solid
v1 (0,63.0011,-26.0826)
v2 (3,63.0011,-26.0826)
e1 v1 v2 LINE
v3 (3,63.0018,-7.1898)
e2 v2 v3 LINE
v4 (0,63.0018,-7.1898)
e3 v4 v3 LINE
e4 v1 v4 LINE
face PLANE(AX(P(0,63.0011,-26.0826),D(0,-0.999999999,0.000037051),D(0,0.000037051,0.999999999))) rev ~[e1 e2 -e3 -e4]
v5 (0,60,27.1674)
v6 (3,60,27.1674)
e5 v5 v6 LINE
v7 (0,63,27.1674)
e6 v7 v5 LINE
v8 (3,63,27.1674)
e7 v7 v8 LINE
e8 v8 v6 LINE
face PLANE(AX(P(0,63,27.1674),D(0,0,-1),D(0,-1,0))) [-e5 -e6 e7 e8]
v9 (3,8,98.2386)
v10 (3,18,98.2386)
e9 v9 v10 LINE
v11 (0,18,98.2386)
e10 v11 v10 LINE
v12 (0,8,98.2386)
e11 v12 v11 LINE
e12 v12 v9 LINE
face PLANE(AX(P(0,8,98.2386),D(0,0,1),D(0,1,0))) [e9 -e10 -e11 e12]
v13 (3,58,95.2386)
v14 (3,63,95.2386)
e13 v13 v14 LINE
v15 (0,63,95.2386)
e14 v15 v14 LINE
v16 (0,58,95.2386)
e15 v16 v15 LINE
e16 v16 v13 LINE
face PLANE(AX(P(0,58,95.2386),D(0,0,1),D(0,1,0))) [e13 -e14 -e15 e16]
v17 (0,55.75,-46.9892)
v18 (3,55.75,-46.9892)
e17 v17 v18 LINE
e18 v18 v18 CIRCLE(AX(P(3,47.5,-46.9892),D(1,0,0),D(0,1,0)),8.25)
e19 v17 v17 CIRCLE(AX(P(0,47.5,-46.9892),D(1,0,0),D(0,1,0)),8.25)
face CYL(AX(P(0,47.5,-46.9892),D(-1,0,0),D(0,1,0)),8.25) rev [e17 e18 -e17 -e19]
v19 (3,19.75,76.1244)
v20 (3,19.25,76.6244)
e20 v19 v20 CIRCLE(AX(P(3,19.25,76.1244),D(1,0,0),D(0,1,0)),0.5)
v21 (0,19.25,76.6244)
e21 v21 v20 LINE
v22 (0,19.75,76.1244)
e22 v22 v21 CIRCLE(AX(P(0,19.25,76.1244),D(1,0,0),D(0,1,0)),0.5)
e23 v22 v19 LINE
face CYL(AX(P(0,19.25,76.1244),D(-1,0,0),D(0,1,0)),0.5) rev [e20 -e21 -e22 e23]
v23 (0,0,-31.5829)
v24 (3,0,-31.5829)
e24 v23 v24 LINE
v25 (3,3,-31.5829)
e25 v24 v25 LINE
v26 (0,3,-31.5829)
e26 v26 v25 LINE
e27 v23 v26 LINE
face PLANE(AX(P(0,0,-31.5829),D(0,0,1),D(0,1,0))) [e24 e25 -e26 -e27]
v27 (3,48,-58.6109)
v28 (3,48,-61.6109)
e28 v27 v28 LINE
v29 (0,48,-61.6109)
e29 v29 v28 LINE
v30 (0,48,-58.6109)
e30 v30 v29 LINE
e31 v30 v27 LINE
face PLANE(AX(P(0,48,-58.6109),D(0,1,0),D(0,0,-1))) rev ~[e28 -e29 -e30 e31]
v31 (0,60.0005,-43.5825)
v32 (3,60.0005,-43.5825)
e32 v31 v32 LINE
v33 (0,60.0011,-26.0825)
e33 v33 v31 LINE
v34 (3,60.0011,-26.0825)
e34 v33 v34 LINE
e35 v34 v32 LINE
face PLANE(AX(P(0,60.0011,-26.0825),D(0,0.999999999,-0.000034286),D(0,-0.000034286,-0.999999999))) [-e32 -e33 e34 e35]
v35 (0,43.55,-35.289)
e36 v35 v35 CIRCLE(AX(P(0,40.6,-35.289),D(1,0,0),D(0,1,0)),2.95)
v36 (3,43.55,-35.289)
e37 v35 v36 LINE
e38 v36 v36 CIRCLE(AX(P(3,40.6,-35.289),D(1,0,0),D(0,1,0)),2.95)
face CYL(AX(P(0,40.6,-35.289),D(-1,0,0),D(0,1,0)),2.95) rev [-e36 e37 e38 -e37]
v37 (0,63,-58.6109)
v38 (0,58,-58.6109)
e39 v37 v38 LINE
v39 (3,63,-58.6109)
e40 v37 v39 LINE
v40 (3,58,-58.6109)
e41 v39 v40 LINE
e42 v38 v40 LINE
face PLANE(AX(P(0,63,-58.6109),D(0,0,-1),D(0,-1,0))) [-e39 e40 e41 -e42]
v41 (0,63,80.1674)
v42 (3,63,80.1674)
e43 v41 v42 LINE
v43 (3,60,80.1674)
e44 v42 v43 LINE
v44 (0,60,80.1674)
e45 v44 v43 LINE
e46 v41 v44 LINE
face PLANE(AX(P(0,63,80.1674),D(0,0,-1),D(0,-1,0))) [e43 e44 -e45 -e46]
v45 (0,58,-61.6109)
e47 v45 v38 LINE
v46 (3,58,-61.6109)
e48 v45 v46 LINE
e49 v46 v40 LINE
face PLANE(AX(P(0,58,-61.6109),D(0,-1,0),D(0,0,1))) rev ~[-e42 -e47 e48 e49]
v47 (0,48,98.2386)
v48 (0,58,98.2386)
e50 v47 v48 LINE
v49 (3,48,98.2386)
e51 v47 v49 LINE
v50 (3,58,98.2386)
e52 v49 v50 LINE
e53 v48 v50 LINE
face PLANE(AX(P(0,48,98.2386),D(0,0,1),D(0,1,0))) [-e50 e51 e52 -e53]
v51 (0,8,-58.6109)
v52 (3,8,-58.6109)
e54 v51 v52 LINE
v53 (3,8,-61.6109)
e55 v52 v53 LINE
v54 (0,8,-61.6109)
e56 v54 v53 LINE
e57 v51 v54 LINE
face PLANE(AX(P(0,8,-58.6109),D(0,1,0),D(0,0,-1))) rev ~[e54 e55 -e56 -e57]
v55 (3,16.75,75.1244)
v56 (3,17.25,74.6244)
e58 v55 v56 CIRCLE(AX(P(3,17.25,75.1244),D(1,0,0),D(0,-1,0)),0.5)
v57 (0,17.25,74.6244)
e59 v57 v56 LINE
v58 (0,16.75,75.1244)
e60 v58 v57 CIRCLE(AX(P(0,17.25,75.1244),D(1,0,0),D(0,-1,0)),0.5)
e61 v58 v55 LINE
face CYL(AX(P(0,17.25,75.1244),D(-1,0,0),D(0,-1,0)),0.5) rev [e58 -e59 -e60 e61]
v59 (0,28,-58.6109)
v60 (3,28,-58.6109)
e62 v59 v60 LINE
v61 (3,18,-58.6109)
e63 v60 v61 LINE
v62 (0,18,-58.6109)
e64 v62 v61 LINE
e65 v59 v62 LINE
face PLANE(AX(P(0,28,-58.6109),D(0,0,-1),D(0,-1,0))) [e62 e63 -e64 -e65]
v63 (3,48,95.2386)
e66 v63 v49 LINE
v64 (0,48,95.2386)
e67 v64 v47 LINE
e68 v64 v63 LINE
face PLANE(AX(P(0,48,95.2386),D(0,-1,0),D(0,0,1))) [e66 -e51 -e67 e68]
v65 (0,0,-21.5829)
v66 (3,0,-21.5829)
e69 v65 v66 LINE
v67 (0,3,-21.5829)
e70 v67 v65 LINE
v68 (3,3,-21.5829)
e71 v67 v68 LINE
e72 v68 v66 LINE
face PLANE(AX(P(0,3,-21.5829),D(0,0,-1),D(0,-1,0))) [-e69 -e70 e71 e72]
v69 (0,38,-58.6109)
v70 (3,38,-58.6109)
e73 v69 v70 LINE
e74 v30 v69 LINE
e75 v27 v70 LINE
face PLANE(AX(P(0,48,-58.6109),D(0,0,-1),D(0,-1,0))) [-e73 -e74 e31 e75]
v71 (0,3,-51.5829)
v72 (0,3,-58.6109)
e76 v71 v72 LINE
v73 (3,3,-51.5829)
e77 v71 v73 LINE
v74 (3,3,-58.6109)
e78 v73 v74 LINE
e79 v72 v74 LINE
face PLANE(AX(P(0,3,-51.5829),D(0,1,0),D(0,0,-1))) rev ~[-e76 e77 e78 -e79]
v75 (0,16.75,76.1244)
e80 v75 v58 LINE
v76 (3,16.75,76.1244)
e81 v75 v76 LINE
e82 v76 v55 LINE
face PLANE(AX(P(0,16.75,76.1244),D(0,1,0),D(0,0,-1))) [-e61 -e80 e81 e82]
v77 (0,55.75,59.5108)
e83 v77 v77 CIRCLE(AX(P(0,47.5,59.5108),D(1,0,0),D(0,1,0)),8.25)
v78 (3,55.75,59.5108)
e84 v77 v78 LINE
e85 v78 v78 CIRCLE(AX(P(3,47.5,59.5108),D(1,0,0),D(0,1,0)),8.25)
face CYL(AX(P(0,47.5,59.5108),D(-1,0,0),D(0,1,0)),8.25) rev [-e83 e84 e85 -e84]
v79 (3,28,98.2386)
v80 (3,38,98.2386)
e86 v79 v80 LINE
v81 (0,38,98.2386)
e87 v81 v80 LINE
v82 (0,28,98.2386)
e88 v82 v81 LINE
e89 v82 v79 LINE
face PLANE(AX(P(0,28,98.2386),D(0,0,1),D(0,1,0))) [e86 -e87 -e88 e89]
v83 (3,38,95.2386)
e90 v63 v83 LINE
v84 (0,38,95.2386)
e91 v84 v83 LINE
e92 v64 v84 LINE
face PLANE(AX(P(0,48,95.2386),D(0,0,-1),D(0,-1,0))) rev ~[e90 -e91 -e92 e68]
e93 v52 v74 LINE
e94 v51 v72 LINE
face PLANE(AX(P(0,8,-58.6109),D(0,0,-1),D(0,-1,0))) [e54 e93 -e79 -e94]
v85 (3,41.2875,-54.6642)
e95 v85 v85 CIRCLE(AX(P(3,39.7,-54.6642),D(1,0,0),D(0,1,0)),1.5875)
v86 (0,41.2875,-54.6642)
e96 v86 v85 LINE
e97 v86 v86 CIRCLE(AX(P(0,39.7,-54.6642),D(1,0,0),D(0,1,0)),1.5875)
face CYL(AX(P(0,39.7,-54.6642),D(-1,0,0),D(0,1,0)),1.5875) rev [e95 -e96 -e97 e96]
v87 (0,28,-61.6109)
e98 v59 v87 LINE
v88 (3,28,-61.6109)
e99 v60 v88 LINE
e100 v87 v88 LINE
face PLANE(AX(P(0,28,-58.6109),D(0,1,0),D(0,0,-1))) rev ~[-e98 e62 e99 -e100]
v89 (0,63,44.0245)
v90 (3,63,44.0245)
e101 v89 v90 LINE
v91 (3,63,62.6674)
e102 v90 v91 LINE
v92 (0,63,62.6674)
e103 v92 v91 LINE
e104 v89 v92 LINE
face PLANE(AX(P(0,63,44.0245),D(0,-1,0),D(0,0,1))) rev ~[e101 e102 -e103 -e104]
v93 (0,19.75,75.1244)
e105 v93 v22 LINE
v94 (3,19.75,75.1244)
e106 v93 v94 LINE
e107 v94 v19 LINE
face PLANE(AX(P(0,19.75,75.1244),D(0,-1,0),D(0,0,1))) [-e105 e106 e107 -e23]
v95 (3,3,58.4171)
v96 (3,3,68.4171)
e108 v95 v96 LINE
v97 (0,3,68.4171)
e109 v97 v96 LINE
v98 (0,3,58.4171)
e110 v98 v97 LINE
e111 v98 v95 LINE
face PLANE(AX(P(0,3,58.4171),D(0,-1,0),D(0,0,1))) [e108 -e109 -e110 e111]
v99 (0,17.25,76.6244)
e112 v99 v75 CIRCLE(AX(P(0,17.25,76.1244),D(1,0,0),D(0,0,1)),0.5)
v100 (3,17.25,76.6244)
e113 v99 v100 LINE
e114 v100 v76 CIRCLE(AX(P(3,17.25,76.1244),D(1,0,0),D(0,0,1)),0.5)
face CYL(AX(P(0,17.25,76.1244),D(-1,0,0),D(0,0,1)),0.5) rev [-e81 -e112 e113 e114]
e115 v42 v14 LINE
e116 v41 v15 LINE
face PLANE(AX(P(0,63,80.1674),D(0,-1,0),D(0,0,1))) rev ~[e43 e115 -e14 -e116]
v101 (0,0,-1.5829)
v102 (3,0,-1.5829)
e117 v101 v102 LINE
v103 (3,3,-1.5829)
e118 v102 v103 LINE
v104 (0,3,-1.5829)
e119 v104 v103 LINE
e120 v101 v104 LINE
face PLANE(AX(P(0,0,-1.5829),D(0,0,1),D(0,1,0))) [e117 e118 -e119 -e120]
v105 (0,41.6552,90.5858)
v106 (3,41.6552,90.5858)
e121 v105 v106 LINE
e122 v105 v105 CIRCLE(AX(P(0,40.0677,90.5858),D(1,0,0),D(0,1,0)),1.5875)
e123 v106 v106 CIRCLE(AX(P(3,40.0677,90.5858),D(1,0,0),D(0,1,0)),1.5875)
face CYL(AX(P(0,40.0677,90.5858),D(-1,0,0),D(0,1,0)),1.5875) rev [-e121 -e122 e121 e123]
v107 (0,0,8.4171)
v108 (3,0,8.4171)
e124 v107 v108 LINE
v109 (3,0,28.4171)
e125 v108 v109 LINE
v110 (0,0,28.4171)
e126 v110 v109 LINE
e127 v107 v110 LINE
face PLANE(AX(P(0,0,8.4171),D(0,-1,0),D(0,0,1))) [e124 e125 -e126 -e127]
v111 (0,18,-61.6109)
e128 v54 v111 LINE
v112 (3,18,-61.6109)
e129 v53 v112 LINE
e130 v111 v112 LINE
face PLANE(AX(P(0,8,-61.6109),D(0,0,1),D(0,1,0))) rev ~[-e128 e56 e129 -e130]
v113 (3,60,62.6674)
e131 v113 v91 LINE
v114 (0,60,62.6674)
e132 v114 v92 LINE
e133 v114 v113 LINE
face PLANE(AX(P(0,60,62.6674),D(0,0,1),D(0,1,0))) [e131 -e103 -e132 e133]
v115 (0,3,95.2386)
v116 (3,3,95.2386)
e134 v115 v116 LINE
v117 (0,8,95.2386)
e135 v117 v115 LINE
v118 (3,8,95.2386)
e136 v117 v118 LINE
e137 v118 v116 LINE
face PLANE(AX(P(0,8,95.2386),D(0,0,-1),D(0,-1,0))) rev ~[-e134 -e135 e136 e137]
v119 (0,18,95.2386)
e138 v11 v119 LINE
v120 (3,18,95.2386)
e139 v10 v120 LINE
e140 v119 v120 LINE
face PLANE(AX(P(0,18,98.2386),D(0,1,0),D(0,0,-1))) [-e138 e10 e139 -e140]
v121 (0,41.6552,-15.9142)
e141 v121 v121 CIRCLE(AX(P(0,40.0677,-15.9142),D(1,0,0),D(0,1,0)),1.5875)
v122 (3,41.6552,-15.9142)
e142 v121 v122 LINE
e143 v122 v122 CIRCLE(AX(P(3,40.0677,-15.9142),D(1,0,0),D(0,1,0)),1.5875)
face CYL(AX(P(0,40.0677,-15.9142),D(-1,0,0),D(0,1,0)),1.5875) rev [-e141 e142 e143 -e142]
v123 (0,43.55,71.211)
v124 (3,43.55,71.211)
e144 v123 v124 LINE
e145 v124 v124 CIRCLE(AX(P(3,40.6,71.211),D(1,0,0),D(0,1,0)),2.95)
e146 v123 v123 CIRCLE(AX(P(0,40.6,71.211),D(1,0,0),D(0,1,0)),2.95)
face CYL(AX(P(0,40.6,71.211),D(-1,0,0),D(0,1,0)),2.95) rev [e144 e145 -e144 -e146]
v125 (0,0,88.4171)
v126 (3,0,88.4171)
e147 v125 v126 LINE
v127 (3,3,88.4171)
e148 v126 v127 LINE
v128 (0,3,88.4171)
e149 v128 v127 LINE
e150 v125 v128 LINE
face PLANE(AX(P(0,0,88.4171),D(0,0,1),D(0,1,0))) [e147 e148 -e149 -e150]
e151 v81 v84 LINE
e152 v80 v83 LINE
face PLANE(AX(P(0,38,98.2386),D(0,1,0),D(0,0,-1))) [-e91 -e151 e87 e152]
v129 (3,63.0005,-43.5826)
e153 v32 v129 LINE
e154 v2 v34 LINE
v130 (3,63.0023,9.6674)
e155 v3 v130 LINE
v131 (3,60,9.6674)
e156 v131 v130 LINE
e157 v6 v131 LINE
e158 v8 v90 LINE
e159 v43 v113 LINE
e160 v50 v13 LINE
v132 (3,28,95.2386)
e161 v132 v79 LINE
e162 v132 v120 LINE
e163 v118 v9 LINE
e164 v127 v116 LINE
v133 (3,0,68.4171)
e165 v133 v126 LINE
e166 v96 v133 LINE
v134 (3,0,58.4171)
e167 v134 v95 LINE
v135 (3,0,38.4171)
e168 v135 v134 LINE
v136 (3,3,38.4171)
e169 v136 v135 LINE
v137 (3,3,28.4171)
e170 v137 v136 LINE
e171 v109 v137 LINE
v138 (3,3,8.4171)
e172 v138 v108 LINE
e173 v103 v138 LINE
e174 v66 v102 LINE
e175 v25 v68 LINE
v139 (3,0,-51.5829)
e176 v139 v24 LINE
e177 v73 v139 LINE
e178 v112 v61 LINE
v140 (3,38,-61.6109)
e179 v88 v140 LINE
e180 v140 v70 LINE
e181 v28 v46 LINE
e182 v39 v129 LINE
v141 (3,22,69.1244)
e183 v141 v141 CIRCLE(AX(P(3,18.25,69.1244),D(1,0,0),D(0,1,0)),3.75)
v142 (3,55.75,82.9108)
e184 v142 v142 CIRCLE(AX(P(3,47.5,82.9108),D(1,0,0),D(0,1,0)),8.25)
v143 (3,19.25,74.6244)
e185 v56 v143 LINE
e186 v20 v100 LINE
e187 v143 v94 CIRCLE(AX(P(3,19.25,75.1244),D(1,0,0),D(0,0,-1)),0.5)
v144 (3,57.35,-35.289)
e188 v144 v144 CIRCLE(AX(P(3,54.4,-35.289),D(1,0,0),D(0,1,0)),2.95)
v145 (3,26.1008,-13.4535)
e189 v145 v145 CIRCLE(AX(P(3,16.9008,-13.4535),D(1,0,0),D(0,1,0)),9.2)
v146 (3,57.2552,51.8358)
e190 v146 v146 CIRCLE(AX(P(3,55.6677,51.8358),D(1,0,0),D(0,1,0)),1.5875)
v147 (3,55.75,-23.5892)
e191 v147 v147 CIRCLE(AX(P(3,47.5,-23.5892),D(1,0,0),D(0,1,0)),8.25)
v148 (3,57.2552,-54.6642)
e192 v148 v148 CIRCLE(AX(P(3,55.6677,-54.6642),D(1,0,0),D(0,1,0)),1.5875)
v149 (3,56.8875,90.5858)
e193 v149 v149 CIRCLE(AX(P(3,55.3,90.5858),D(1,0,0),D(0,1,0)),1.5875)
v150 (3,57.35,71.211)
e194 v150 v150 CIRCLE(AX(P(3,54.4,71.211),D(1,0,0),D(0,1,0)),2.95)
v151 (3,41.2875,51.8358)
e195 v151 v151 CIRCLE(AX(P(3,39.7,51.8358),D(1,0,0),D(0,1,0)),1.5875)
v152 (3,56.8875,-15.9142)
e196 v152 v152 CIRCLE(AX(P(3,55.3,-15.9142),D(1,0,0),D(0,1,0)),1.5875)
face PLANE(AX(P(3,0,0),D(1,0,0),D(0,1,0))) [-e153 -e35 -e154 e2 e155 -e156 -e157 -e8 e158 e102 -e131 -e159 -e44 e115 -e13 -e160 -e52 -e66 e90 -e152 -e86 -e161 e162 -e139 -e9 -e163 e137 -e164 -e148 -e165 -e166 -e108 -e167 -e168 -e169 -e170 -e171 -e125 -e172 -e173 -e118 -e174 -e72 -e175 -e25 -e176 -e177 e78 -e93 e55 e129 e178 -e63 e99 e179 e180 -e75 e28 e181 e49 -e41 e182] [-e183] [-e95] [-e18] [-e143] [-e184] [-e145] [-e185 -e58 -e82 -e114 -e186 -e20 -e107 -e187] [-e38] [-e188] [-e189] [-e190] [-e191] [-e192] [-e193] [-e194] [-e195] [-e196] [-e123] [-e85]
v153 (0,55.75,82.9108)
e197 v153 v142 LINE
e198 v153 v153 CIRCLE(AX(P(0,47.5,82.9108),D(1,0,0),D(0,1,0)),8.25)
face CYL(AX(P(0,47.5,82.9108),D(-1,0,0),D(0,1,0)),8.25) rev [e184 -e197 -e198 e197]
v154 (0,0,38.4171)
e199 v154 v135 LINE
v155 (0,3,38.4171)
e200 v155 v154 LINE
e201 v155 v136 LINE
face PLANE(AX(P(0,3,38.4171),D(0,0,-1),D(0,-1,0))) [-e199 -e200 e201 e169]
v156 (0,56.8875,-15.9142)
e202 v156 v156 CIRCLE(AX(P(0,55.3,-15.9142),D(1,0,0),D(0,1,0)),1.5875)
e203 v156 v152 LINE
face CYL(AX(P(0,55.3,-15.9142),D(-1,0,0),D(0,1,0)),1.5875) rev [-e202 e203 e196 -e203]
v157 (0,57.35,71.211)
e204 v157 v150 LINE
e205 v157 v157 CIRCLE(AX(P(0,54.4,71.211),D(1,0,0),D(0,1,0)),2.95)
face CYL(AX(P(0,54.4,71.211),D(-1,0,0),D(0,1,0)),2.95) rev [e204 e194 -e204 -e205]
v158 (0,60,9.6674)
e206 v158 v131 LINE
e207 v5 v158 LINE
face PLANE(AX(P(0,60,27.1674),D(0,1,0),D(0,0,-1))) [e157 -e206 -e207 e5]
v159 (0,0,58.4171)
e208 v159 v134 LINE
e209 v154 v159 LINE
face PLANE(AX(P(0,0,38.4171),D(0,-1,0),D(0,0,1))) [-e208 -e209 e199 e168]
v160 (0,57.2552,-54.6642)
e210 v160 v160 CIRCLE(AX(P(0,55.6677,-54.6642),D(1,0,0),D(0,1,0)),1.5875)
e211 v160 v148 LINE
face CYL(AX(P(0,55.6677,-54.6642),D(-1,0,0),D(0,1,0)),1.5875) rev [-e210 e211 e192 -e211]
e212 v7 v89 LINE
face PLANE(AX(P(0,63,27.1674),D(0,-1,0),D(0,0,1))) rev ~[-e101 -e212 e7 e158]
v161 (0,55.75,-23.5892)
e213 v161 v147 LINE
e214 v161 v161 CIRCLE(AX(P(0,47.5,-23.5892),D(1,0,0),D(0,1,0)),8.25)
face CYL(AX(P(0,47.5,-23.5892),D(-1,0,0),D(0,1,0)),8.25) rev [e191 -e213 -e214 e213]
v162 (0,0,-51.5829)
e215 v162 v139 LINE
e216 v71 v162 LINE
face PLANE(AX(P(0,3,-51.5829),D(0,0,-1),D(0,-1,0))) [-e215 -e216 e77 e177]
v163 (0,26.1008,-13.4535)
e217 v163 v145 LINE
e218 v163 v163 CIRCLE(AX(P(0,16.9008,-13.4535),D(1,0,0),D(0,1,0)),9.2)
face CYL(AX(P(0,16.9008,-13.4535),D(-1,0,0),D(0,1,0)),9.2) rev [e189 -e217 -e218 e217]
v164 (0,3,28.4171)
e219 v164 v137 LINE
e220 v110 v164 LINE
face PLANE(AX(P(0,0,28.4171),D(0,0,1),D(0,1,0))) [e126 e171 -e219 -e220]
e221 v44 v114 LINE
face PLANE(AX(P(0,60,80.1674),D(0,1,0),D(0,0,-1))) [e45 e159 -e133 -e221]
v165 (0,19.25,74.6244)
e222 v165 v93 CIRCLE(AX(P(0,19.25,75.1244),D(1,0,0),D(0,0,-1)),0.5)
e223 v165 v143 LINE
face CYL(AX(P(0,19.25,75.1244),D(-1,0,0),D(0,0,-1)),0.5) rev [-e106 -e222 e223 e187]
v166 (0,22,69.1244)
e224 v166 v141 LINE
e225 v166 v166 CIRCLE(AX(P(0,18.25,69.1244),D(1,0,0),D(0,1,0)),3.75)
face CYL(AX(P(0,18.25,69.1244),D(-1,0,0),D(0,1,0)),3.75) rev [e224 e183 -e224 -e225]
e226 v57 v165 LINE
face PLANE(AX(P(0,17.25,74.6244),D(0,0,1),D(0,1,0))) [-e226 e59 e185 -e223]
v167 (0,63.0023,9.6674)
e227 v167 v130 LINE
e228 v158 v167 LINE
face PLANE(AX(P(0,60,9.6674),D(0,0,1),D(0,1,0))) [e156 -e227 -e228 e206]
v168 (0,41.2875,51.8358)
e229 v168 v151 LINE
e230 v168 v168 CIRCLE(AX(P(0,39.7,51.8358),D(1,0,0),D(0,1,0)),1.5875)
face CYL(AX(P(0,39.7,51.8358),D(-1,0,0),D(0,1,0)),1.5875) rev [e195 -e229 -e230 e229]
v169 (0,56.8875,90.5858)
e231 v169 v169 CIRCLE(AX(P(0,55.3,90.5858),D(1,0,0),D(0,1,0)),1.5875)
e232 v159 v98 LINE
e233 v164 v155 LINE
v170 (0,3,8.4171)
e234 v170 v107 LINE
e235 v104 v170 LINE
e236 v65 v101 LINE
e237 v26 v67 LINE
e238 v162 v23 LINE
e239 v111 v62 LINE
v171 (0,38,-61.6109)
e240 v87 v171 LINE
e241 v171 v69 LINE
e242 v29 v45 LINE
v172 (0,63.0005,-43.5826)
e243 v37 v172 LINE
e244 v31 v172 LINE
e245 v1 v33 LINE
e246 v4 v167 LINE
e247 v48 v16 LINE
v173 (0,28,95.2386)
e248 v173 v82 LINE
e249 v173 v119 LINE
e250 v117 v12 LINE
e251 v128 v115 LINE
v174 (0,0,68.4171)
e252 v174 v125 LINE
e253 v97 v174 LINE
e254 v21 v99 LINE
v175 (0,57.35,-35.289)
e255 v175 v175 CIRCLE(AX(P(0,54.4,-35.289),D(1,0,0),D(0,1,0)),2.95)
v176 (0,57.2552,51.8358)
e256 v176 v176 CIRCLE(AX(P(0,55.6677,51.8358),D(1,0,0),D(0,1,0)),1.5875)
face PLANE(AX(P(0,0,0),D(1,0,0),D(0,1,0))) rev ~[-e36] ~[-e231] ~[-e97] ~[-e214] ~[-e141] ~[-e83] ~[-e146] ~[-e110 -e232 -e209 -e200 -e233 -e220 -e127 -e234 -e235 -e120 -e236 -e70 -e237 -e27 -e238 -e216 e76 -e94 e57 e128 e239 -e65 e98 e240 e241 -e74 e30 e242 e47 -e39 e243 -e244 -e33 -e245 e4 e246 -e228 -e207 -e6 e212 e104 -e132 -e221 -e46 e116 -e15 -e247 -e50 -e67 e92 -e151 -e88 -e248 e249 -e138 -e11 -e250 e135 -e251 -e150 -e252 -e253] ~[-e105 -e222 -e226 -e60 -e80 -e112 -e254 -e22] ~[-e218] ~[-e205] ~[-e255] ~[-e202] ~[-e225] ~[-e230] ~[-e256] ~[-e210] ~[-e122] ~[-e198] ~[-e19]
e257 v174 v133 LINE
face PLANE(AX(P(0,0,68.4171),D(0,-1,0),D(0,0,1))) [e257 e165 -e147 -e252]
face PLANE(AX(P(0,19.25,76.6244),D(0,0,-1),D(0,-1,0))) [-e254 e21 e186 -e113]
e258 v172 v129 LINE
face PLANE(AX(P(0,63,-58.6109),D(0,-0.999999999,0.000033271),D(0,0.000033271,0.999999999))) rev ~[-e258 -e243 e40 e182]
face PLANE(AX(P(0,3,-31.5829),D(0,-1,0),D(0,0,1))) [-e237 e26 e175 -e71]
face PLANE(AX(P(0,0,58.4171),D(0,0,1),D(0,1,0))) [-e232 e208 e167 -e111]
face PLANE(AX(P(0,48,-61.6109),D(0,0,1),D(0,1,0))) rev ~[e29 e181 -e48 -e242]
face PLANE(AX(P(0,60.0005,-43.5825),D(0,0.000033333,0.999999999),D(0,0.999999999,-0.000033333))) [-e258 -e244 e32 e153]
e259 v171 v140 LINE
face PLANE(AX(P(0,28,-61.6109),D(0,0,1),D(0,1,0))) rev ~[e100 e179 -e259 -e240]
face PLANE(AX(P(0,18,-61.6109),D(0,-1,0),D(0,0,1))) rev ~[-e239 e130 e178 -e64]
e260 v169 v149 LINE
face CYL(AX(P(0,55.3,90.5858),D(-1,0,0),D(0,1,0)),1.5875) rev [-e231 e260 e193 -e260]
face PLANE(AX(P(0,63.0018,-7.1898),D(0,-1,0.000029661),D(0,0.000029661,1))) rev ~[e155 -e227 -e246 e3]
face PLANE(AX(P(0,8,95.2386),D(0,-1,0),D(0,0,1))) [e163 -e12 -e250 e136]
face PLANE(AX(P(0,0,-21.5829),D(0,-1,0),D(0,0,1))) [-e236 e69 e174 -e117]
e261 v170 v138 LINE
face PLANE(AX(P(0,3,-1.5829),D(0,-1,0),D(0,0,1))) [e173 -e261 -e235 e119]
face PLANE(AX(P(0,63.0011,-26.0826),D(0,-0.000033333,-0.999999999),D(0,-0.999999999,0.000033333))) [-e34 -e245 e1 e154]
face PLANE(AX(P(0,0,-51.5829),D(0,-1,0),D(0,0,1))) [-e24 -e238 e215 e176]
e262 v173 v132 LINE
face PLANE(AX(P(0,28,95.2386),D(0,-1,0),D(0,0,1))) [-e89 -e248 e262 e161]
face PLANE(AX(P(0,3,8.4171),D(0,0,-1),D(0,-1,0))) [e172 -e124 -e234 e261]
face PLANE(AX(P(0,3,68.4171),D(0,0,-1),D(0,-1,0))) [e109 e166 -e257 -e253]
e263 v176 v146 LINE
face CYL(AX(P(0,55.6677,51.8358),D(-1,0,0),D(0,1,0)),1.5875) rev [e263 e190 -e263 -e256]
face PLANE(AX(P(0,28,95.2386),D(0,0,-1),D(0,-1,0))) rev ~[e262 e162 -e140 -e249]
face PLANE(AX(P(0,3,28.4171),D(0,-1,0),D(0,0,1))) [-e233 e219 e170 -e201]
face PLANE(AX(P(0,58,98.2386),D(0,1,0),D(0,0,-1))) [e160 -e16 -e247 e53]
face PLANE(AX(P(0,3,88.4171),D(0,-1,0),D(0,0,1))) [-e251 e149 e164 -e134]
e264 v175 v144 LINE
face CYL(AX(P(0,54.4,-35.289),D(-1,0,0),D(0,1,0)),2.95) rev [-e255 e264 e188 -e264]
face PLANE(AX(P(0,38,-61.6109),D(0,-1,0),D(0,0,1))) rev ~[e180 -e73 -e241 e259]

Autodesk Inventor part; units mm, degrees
ref_plane "YZ Plane" through (0, 0, 0) normal (1, 0, 0) x (0, 1, 0)
ref_plane "XZ Plane" through (0, 0, 0) normal (0, 1, 0) x (-1, 0, 0)
ref_plane "XY Plane" through (0, 0, 0) normal (0, 0, 1) x (1, 0, 0)
sketch "Sketch1" plane through (0, 0, 0) normal (1, 0, 0) x (0, 1, 0)
  line L0 (63, -58.6109) -> (63.0005, -43.5826)
  line L1 (60.0005, -43.5825) -> (63.0005, -43.5826)
  line L2 (60.0011, -26.0825) -> (60.0005, -43.5825)
  line L3 (63.0011, -26.0826) -> (60.0011, -26.0825)
  line L4 (63.0011, -26.0826) -> (63.0018, -7.1898)
  line L5 (63.0018, -7.1898) -> (63.0023, 9.6674)
  line L6 (60, 9.6674) -> (63.0023, 9.6674)
  line L7 (60, 27.1674) -> (60, 9.6674)
  line L8 (63, 27.1674) -> (60, 27.1674)
  line L9 (63, 27.1674) -> (63, 44.0245)
  line L10 (63, 44.0245) -> (63, 62.6674)
  line L11 (60, 62.6674) -> (63, 62.6674)
  line L12 (60, 80.1674) -> (60, 62.6674)
  line L13 (63, 80.1674) -> (60, 80.1674)
  line L14 (63, 80.1674) -> (63, 95.2386)
  circle A0 centre (18.25, 69.1244) radius 3.75
  line L15 (16.75, 76.1244) -> (16.75, 75.1244)
  line L16 (17.25, 74.6244) -> (19.25, 74.6244)
  arc A1 (19.25, 74.6244) -> (19.75, 75.1244) centre (19.25, 75.1244) ccw
  line L17 (19.75, 75.1244) -> (19.75, 76.1244)
  arc A2 (19.75, 76.1244) -> (19.25, 76.6244) centre (19.25, 76.1244) ccw
  line L18 (19.25, 76.6244) -> (17.25, 76.6244)
  arc A3 (17.25, 76.6244) -> (16.75, 76.1244) centre (17.25, 76.1244) ccw
  arc A4 (16.75, 75.1244) -> (17.25, 74.6244) centre (17.25, 75.1244) ccw
  circle A5 centre (55.3, -15.9142) radius 1.5875
  circle A6 centre (54.4, -35.289) radius 2.95
  circle A7 centre (47.5, -23.5892) radius 8.25
  circle A8 centre (47.5, -46.9892) radius 8.25
  circle A9 centre (39.7, -54.6642) radius 1.5875
  circle A10 centre (40.6, -35.289) radius 2.95
  circle A11 centre (40.0677, -15.9142) radius 1.5875
  circle A12 centre (55.6677, -54.6642) radius 1.5875
  line L19 (55.3, -15.9142) -> (39.7, -54.6642) construction
  line L20 (55.6677, -54.6642) -> (40.0677, -15.9142) construction
  circle A13 centre (16.9008, -13.4535) radius 9.2
  circle A14 centre (55.3, 90.5858) radius 1.5875
  circle A15 centre (40.0677, 90.5858) radius 1.5875
  circle A16 centre (47.5, 82.9108) radius 8.25
  circle A17 centre (54.4, 71.211) radius 2.95
  circle A18 centre (40.6, 71.211) radius 2.95
  circle A19 centre (47.5, 59.5108) radius 8.25
  circle A20 centre (39.7, 51.8358) radius 1.5875
  circle A21 centre (55.6677, 51.8358) radius 1.5875
  line L21 (55.3, 90.5858) -> (39.7, 51.8358) construction
  line L22 (55.6677, 51.8358) -> (40.0677, 90.5858) construction
  line L23 (3, 8.4171) -> (0, 8.4171)
  line L24 (0, 8.4171) -> (0, 28.4171)
  line L25 (0, 28.4171) -> (3, 28.4171)
  line L26 (3, 28.4171) -> (3, 8.4171) construction
  line L27 (3, 8.4171) -> (0, 28.4171) construction
  line L28 (0, 8.4171) -> (3, 28.4171) construction
  line L29 (31.5, 18.3138) -> (31.5, 31.364) construction
  line L30 (31.5, 18.3138) -> (40.6, 18.3138) construction
  line L31 (3, -21.5829) -> (0, -21.5829)
  line L32 (0, -21.5829) -> (0, -1.5829)
  line L33 (0, -1.5829) -> (3, -1.5829)
  line L34 (3, -51.5829) -> (0, -51.5829)
  line L35 (0, -51.5829) -> (0, -31.5829)
  line L36 (0, -31.5829) -> (3, -31.5829)
  line L37 (3, 38.4171) -> (0, 38.4171)
  line L38 (0, 38.4171) -> (0, 58.4171)
  line L39 (0, 58.4171) -> (3, 58.4171)
  line L40 (3, 8.4171) -> (0, 8.4171)
  line L41 (0, 8.4171) -> (0, 28.4171)
  line L42 (0, 28.4171) -> (3, 28.4171)
  line L43 (3, -21.5829) -> (0, -21.5829)
  line L44 (0, -21.5829) -> (0, -1.5829)
  line L45 (0, -1.5829) -> (3, -1.5829)
  line L46 (3, 68.4171) -> (0, 68.4171)
  line L47 (0, 68.4171) -> (0, 88.4171)
  line L48 (0, 88.4171) -> (3, 88.4171)
  line L49 (3, 38.4171) -> (0, 38.4171)
  line L50 (0, 38.4171) -> (0, 58.4171)
  line L51 (0, 58.4171) -> (3, 58.4171)
  line L52 (3, 8.4171) -> (0, 8.4171)
  line L53 (0, 8.4171) -> (0, 28.4171)
  line L54 (0, 28.4171) -> (3, 28.4171)
  line L55 (3, -51.5829) -> (3, -58.6109)
  line L56 (3, -31.5829) -> (3, -21.5829)
  line L57 (3, -1.5829) -> (3, 8.4171)
  line L58 (3, 28.4171) -> (3, 38.4171)
  line L59 (3, 58.4171) -> (3, 68.4171)
  line L60 (3, 88.4171) -> (3, 95.2386)
  line L61 (28, -58.6109) -> (28, -61.6109)
  line L62 (28, -61.6109) -> (38, -61.6109)
  line L63 (38, -61.6109) -> (38, -58.6109)
  line L64 (38, -58.6109) -> (28, -61.6109) construction
  line L65 (28, -58.6109) -> (38, -61.6109) construction
  line L66 (48, -58.6109) -> (48, -61.6109)
  line L67 (48, -61.6109) -> (58, -61.6109)
  line L68 (58, -61.6109) -> (58, -58.6109)
  line L69 (58, -58.6109) -> (48, -61.6109) construction
  line L70 (48, -58.6109) -> (58, -61.6109) construction
  line L71 (8, -58.6109) -> (8, -61.6109)
  line L72 (8, -61.6109) -> (18, -61.6109)
  line L73 (18, -61.6109) -> (18, -58.6109)
  line L74 (18, -58.6109) -> (8, -61.6109) construction
  line L75 (8, -58.6109) -> (18, -61.6109) construction
  line L76 (28, -58.6109) -> (28, -61.6109)
  line L77 (28, -61.6109) -> (38, -61.6109)
  line L78 (38, -61.6109) -> (38, -58.6109)
  line L79 (38, -58.6109) -> (28, -61.6109) construction
  line L80 (28, -58.6109) -> (38, -61.6109) construction
  line L81 (63, -58.6109) -> (58, -58.6109)
  line L82 (48, -58.6109) -> (38, -58.6109)
  line L83 (28, -58.6109) -> (18, -58.6109)
  line L84 (8, -58.6109) -> (3, -58.6109)
  line L85 (28, 95.2386) -> (28, 98.2386)
  line L86 (28, 98.2386) -> (38, 98.2386)
  line L87 (38, 98.2386) -> (38, 95.2386)
  line L88 (38, 95.2386) -> (28, 98.2386) construction
  line L89 (28, 95.2386) -> (38, 98.2386) construction
  line L90 (58, 98.2386) -> (58, 95.2386)
  line L91 (48, 98.2386) -> (58, 98.2386)
  line L92 (58, 95.2386) -> (48, 98.2386) construction
  line L93 (48, 95.2386) -> (58, 98.2386) construction
  line L94 (48, 95.2386) -> (48, 98.2386)
  line L95 (18, 98.2386) -> (18, 95.2386)
  line L96 (8, 98.2386) -> (18, 98.2386)
  line L97 (18, 95.2386) -> (8, 98.2386) construction
  line L98 (8, 95.2386) -> (18, 98.2386) construction
  line L99 (8, 95.2386) -> (8, 98.2386)
  line L100 (38, 98.2386) -> (38, 95.2386)
  line L101 (28, 98.2386) -> (38, 98.2386)
  line L102 (38, 95.2386) -> (28, 98.2386) construction
  line L103 (28, 95.2386) -> (38, 98.2386) construction
  line L104 (28, 95.2386) -> (28, 98.2386)
  line L105 (48, 95.2386) -> (38, 95.2386)
  line L106 (28, 95.2386) -> (18, 95.2386)
  line L107 (58, 95.2386) -> (63, 95.2386)
  line L108 (8, 95.2386) -> (3, 95.2386)
  point P0 (0, 0)
  point P1 (47.6838, -34.8326)
  point P2 (47.6838, -34.8326)
  point P3 (47.6838, -34.8326)
  point P4 (47.6838, 71.6674)
  point P5 (47.6838, 71.6674)
  point P6 (47.6838, 71.6674)
  point P7 (47.6838, 71.6674)
  point P8 (1.5, 18.4171)
  point P9 (60, 18.4174)
  point P10 (33, -60.1109)
  point P11 (53, -60.1109)
  point P12 (13, -60.1109)
  point P13 (33, -60.1109)
  point P14 (33, 96.7386)
  point P15 (53, 96.7386)
  point P16 (13, 96.7386)
  point P17 (33, 96.7386)
  dimension "d0" = 7.8
  dimension "d1" = 7.8
  dimension "d2" = 7.8
  dimension "d3" = 7.8
  dimension "d7" = 3
  dimension "d8" = 20
  dimension "d11" = 30
  dimension "d14" = 30
  dimension "d17" = 10
  dimension "d18" = 3
  dimension "d21" = 20
  dimension "d24" = 20
extrude "Extrusion1" add sketch "Sketch1" along normal blind 3
properties part number "srf kiri"
